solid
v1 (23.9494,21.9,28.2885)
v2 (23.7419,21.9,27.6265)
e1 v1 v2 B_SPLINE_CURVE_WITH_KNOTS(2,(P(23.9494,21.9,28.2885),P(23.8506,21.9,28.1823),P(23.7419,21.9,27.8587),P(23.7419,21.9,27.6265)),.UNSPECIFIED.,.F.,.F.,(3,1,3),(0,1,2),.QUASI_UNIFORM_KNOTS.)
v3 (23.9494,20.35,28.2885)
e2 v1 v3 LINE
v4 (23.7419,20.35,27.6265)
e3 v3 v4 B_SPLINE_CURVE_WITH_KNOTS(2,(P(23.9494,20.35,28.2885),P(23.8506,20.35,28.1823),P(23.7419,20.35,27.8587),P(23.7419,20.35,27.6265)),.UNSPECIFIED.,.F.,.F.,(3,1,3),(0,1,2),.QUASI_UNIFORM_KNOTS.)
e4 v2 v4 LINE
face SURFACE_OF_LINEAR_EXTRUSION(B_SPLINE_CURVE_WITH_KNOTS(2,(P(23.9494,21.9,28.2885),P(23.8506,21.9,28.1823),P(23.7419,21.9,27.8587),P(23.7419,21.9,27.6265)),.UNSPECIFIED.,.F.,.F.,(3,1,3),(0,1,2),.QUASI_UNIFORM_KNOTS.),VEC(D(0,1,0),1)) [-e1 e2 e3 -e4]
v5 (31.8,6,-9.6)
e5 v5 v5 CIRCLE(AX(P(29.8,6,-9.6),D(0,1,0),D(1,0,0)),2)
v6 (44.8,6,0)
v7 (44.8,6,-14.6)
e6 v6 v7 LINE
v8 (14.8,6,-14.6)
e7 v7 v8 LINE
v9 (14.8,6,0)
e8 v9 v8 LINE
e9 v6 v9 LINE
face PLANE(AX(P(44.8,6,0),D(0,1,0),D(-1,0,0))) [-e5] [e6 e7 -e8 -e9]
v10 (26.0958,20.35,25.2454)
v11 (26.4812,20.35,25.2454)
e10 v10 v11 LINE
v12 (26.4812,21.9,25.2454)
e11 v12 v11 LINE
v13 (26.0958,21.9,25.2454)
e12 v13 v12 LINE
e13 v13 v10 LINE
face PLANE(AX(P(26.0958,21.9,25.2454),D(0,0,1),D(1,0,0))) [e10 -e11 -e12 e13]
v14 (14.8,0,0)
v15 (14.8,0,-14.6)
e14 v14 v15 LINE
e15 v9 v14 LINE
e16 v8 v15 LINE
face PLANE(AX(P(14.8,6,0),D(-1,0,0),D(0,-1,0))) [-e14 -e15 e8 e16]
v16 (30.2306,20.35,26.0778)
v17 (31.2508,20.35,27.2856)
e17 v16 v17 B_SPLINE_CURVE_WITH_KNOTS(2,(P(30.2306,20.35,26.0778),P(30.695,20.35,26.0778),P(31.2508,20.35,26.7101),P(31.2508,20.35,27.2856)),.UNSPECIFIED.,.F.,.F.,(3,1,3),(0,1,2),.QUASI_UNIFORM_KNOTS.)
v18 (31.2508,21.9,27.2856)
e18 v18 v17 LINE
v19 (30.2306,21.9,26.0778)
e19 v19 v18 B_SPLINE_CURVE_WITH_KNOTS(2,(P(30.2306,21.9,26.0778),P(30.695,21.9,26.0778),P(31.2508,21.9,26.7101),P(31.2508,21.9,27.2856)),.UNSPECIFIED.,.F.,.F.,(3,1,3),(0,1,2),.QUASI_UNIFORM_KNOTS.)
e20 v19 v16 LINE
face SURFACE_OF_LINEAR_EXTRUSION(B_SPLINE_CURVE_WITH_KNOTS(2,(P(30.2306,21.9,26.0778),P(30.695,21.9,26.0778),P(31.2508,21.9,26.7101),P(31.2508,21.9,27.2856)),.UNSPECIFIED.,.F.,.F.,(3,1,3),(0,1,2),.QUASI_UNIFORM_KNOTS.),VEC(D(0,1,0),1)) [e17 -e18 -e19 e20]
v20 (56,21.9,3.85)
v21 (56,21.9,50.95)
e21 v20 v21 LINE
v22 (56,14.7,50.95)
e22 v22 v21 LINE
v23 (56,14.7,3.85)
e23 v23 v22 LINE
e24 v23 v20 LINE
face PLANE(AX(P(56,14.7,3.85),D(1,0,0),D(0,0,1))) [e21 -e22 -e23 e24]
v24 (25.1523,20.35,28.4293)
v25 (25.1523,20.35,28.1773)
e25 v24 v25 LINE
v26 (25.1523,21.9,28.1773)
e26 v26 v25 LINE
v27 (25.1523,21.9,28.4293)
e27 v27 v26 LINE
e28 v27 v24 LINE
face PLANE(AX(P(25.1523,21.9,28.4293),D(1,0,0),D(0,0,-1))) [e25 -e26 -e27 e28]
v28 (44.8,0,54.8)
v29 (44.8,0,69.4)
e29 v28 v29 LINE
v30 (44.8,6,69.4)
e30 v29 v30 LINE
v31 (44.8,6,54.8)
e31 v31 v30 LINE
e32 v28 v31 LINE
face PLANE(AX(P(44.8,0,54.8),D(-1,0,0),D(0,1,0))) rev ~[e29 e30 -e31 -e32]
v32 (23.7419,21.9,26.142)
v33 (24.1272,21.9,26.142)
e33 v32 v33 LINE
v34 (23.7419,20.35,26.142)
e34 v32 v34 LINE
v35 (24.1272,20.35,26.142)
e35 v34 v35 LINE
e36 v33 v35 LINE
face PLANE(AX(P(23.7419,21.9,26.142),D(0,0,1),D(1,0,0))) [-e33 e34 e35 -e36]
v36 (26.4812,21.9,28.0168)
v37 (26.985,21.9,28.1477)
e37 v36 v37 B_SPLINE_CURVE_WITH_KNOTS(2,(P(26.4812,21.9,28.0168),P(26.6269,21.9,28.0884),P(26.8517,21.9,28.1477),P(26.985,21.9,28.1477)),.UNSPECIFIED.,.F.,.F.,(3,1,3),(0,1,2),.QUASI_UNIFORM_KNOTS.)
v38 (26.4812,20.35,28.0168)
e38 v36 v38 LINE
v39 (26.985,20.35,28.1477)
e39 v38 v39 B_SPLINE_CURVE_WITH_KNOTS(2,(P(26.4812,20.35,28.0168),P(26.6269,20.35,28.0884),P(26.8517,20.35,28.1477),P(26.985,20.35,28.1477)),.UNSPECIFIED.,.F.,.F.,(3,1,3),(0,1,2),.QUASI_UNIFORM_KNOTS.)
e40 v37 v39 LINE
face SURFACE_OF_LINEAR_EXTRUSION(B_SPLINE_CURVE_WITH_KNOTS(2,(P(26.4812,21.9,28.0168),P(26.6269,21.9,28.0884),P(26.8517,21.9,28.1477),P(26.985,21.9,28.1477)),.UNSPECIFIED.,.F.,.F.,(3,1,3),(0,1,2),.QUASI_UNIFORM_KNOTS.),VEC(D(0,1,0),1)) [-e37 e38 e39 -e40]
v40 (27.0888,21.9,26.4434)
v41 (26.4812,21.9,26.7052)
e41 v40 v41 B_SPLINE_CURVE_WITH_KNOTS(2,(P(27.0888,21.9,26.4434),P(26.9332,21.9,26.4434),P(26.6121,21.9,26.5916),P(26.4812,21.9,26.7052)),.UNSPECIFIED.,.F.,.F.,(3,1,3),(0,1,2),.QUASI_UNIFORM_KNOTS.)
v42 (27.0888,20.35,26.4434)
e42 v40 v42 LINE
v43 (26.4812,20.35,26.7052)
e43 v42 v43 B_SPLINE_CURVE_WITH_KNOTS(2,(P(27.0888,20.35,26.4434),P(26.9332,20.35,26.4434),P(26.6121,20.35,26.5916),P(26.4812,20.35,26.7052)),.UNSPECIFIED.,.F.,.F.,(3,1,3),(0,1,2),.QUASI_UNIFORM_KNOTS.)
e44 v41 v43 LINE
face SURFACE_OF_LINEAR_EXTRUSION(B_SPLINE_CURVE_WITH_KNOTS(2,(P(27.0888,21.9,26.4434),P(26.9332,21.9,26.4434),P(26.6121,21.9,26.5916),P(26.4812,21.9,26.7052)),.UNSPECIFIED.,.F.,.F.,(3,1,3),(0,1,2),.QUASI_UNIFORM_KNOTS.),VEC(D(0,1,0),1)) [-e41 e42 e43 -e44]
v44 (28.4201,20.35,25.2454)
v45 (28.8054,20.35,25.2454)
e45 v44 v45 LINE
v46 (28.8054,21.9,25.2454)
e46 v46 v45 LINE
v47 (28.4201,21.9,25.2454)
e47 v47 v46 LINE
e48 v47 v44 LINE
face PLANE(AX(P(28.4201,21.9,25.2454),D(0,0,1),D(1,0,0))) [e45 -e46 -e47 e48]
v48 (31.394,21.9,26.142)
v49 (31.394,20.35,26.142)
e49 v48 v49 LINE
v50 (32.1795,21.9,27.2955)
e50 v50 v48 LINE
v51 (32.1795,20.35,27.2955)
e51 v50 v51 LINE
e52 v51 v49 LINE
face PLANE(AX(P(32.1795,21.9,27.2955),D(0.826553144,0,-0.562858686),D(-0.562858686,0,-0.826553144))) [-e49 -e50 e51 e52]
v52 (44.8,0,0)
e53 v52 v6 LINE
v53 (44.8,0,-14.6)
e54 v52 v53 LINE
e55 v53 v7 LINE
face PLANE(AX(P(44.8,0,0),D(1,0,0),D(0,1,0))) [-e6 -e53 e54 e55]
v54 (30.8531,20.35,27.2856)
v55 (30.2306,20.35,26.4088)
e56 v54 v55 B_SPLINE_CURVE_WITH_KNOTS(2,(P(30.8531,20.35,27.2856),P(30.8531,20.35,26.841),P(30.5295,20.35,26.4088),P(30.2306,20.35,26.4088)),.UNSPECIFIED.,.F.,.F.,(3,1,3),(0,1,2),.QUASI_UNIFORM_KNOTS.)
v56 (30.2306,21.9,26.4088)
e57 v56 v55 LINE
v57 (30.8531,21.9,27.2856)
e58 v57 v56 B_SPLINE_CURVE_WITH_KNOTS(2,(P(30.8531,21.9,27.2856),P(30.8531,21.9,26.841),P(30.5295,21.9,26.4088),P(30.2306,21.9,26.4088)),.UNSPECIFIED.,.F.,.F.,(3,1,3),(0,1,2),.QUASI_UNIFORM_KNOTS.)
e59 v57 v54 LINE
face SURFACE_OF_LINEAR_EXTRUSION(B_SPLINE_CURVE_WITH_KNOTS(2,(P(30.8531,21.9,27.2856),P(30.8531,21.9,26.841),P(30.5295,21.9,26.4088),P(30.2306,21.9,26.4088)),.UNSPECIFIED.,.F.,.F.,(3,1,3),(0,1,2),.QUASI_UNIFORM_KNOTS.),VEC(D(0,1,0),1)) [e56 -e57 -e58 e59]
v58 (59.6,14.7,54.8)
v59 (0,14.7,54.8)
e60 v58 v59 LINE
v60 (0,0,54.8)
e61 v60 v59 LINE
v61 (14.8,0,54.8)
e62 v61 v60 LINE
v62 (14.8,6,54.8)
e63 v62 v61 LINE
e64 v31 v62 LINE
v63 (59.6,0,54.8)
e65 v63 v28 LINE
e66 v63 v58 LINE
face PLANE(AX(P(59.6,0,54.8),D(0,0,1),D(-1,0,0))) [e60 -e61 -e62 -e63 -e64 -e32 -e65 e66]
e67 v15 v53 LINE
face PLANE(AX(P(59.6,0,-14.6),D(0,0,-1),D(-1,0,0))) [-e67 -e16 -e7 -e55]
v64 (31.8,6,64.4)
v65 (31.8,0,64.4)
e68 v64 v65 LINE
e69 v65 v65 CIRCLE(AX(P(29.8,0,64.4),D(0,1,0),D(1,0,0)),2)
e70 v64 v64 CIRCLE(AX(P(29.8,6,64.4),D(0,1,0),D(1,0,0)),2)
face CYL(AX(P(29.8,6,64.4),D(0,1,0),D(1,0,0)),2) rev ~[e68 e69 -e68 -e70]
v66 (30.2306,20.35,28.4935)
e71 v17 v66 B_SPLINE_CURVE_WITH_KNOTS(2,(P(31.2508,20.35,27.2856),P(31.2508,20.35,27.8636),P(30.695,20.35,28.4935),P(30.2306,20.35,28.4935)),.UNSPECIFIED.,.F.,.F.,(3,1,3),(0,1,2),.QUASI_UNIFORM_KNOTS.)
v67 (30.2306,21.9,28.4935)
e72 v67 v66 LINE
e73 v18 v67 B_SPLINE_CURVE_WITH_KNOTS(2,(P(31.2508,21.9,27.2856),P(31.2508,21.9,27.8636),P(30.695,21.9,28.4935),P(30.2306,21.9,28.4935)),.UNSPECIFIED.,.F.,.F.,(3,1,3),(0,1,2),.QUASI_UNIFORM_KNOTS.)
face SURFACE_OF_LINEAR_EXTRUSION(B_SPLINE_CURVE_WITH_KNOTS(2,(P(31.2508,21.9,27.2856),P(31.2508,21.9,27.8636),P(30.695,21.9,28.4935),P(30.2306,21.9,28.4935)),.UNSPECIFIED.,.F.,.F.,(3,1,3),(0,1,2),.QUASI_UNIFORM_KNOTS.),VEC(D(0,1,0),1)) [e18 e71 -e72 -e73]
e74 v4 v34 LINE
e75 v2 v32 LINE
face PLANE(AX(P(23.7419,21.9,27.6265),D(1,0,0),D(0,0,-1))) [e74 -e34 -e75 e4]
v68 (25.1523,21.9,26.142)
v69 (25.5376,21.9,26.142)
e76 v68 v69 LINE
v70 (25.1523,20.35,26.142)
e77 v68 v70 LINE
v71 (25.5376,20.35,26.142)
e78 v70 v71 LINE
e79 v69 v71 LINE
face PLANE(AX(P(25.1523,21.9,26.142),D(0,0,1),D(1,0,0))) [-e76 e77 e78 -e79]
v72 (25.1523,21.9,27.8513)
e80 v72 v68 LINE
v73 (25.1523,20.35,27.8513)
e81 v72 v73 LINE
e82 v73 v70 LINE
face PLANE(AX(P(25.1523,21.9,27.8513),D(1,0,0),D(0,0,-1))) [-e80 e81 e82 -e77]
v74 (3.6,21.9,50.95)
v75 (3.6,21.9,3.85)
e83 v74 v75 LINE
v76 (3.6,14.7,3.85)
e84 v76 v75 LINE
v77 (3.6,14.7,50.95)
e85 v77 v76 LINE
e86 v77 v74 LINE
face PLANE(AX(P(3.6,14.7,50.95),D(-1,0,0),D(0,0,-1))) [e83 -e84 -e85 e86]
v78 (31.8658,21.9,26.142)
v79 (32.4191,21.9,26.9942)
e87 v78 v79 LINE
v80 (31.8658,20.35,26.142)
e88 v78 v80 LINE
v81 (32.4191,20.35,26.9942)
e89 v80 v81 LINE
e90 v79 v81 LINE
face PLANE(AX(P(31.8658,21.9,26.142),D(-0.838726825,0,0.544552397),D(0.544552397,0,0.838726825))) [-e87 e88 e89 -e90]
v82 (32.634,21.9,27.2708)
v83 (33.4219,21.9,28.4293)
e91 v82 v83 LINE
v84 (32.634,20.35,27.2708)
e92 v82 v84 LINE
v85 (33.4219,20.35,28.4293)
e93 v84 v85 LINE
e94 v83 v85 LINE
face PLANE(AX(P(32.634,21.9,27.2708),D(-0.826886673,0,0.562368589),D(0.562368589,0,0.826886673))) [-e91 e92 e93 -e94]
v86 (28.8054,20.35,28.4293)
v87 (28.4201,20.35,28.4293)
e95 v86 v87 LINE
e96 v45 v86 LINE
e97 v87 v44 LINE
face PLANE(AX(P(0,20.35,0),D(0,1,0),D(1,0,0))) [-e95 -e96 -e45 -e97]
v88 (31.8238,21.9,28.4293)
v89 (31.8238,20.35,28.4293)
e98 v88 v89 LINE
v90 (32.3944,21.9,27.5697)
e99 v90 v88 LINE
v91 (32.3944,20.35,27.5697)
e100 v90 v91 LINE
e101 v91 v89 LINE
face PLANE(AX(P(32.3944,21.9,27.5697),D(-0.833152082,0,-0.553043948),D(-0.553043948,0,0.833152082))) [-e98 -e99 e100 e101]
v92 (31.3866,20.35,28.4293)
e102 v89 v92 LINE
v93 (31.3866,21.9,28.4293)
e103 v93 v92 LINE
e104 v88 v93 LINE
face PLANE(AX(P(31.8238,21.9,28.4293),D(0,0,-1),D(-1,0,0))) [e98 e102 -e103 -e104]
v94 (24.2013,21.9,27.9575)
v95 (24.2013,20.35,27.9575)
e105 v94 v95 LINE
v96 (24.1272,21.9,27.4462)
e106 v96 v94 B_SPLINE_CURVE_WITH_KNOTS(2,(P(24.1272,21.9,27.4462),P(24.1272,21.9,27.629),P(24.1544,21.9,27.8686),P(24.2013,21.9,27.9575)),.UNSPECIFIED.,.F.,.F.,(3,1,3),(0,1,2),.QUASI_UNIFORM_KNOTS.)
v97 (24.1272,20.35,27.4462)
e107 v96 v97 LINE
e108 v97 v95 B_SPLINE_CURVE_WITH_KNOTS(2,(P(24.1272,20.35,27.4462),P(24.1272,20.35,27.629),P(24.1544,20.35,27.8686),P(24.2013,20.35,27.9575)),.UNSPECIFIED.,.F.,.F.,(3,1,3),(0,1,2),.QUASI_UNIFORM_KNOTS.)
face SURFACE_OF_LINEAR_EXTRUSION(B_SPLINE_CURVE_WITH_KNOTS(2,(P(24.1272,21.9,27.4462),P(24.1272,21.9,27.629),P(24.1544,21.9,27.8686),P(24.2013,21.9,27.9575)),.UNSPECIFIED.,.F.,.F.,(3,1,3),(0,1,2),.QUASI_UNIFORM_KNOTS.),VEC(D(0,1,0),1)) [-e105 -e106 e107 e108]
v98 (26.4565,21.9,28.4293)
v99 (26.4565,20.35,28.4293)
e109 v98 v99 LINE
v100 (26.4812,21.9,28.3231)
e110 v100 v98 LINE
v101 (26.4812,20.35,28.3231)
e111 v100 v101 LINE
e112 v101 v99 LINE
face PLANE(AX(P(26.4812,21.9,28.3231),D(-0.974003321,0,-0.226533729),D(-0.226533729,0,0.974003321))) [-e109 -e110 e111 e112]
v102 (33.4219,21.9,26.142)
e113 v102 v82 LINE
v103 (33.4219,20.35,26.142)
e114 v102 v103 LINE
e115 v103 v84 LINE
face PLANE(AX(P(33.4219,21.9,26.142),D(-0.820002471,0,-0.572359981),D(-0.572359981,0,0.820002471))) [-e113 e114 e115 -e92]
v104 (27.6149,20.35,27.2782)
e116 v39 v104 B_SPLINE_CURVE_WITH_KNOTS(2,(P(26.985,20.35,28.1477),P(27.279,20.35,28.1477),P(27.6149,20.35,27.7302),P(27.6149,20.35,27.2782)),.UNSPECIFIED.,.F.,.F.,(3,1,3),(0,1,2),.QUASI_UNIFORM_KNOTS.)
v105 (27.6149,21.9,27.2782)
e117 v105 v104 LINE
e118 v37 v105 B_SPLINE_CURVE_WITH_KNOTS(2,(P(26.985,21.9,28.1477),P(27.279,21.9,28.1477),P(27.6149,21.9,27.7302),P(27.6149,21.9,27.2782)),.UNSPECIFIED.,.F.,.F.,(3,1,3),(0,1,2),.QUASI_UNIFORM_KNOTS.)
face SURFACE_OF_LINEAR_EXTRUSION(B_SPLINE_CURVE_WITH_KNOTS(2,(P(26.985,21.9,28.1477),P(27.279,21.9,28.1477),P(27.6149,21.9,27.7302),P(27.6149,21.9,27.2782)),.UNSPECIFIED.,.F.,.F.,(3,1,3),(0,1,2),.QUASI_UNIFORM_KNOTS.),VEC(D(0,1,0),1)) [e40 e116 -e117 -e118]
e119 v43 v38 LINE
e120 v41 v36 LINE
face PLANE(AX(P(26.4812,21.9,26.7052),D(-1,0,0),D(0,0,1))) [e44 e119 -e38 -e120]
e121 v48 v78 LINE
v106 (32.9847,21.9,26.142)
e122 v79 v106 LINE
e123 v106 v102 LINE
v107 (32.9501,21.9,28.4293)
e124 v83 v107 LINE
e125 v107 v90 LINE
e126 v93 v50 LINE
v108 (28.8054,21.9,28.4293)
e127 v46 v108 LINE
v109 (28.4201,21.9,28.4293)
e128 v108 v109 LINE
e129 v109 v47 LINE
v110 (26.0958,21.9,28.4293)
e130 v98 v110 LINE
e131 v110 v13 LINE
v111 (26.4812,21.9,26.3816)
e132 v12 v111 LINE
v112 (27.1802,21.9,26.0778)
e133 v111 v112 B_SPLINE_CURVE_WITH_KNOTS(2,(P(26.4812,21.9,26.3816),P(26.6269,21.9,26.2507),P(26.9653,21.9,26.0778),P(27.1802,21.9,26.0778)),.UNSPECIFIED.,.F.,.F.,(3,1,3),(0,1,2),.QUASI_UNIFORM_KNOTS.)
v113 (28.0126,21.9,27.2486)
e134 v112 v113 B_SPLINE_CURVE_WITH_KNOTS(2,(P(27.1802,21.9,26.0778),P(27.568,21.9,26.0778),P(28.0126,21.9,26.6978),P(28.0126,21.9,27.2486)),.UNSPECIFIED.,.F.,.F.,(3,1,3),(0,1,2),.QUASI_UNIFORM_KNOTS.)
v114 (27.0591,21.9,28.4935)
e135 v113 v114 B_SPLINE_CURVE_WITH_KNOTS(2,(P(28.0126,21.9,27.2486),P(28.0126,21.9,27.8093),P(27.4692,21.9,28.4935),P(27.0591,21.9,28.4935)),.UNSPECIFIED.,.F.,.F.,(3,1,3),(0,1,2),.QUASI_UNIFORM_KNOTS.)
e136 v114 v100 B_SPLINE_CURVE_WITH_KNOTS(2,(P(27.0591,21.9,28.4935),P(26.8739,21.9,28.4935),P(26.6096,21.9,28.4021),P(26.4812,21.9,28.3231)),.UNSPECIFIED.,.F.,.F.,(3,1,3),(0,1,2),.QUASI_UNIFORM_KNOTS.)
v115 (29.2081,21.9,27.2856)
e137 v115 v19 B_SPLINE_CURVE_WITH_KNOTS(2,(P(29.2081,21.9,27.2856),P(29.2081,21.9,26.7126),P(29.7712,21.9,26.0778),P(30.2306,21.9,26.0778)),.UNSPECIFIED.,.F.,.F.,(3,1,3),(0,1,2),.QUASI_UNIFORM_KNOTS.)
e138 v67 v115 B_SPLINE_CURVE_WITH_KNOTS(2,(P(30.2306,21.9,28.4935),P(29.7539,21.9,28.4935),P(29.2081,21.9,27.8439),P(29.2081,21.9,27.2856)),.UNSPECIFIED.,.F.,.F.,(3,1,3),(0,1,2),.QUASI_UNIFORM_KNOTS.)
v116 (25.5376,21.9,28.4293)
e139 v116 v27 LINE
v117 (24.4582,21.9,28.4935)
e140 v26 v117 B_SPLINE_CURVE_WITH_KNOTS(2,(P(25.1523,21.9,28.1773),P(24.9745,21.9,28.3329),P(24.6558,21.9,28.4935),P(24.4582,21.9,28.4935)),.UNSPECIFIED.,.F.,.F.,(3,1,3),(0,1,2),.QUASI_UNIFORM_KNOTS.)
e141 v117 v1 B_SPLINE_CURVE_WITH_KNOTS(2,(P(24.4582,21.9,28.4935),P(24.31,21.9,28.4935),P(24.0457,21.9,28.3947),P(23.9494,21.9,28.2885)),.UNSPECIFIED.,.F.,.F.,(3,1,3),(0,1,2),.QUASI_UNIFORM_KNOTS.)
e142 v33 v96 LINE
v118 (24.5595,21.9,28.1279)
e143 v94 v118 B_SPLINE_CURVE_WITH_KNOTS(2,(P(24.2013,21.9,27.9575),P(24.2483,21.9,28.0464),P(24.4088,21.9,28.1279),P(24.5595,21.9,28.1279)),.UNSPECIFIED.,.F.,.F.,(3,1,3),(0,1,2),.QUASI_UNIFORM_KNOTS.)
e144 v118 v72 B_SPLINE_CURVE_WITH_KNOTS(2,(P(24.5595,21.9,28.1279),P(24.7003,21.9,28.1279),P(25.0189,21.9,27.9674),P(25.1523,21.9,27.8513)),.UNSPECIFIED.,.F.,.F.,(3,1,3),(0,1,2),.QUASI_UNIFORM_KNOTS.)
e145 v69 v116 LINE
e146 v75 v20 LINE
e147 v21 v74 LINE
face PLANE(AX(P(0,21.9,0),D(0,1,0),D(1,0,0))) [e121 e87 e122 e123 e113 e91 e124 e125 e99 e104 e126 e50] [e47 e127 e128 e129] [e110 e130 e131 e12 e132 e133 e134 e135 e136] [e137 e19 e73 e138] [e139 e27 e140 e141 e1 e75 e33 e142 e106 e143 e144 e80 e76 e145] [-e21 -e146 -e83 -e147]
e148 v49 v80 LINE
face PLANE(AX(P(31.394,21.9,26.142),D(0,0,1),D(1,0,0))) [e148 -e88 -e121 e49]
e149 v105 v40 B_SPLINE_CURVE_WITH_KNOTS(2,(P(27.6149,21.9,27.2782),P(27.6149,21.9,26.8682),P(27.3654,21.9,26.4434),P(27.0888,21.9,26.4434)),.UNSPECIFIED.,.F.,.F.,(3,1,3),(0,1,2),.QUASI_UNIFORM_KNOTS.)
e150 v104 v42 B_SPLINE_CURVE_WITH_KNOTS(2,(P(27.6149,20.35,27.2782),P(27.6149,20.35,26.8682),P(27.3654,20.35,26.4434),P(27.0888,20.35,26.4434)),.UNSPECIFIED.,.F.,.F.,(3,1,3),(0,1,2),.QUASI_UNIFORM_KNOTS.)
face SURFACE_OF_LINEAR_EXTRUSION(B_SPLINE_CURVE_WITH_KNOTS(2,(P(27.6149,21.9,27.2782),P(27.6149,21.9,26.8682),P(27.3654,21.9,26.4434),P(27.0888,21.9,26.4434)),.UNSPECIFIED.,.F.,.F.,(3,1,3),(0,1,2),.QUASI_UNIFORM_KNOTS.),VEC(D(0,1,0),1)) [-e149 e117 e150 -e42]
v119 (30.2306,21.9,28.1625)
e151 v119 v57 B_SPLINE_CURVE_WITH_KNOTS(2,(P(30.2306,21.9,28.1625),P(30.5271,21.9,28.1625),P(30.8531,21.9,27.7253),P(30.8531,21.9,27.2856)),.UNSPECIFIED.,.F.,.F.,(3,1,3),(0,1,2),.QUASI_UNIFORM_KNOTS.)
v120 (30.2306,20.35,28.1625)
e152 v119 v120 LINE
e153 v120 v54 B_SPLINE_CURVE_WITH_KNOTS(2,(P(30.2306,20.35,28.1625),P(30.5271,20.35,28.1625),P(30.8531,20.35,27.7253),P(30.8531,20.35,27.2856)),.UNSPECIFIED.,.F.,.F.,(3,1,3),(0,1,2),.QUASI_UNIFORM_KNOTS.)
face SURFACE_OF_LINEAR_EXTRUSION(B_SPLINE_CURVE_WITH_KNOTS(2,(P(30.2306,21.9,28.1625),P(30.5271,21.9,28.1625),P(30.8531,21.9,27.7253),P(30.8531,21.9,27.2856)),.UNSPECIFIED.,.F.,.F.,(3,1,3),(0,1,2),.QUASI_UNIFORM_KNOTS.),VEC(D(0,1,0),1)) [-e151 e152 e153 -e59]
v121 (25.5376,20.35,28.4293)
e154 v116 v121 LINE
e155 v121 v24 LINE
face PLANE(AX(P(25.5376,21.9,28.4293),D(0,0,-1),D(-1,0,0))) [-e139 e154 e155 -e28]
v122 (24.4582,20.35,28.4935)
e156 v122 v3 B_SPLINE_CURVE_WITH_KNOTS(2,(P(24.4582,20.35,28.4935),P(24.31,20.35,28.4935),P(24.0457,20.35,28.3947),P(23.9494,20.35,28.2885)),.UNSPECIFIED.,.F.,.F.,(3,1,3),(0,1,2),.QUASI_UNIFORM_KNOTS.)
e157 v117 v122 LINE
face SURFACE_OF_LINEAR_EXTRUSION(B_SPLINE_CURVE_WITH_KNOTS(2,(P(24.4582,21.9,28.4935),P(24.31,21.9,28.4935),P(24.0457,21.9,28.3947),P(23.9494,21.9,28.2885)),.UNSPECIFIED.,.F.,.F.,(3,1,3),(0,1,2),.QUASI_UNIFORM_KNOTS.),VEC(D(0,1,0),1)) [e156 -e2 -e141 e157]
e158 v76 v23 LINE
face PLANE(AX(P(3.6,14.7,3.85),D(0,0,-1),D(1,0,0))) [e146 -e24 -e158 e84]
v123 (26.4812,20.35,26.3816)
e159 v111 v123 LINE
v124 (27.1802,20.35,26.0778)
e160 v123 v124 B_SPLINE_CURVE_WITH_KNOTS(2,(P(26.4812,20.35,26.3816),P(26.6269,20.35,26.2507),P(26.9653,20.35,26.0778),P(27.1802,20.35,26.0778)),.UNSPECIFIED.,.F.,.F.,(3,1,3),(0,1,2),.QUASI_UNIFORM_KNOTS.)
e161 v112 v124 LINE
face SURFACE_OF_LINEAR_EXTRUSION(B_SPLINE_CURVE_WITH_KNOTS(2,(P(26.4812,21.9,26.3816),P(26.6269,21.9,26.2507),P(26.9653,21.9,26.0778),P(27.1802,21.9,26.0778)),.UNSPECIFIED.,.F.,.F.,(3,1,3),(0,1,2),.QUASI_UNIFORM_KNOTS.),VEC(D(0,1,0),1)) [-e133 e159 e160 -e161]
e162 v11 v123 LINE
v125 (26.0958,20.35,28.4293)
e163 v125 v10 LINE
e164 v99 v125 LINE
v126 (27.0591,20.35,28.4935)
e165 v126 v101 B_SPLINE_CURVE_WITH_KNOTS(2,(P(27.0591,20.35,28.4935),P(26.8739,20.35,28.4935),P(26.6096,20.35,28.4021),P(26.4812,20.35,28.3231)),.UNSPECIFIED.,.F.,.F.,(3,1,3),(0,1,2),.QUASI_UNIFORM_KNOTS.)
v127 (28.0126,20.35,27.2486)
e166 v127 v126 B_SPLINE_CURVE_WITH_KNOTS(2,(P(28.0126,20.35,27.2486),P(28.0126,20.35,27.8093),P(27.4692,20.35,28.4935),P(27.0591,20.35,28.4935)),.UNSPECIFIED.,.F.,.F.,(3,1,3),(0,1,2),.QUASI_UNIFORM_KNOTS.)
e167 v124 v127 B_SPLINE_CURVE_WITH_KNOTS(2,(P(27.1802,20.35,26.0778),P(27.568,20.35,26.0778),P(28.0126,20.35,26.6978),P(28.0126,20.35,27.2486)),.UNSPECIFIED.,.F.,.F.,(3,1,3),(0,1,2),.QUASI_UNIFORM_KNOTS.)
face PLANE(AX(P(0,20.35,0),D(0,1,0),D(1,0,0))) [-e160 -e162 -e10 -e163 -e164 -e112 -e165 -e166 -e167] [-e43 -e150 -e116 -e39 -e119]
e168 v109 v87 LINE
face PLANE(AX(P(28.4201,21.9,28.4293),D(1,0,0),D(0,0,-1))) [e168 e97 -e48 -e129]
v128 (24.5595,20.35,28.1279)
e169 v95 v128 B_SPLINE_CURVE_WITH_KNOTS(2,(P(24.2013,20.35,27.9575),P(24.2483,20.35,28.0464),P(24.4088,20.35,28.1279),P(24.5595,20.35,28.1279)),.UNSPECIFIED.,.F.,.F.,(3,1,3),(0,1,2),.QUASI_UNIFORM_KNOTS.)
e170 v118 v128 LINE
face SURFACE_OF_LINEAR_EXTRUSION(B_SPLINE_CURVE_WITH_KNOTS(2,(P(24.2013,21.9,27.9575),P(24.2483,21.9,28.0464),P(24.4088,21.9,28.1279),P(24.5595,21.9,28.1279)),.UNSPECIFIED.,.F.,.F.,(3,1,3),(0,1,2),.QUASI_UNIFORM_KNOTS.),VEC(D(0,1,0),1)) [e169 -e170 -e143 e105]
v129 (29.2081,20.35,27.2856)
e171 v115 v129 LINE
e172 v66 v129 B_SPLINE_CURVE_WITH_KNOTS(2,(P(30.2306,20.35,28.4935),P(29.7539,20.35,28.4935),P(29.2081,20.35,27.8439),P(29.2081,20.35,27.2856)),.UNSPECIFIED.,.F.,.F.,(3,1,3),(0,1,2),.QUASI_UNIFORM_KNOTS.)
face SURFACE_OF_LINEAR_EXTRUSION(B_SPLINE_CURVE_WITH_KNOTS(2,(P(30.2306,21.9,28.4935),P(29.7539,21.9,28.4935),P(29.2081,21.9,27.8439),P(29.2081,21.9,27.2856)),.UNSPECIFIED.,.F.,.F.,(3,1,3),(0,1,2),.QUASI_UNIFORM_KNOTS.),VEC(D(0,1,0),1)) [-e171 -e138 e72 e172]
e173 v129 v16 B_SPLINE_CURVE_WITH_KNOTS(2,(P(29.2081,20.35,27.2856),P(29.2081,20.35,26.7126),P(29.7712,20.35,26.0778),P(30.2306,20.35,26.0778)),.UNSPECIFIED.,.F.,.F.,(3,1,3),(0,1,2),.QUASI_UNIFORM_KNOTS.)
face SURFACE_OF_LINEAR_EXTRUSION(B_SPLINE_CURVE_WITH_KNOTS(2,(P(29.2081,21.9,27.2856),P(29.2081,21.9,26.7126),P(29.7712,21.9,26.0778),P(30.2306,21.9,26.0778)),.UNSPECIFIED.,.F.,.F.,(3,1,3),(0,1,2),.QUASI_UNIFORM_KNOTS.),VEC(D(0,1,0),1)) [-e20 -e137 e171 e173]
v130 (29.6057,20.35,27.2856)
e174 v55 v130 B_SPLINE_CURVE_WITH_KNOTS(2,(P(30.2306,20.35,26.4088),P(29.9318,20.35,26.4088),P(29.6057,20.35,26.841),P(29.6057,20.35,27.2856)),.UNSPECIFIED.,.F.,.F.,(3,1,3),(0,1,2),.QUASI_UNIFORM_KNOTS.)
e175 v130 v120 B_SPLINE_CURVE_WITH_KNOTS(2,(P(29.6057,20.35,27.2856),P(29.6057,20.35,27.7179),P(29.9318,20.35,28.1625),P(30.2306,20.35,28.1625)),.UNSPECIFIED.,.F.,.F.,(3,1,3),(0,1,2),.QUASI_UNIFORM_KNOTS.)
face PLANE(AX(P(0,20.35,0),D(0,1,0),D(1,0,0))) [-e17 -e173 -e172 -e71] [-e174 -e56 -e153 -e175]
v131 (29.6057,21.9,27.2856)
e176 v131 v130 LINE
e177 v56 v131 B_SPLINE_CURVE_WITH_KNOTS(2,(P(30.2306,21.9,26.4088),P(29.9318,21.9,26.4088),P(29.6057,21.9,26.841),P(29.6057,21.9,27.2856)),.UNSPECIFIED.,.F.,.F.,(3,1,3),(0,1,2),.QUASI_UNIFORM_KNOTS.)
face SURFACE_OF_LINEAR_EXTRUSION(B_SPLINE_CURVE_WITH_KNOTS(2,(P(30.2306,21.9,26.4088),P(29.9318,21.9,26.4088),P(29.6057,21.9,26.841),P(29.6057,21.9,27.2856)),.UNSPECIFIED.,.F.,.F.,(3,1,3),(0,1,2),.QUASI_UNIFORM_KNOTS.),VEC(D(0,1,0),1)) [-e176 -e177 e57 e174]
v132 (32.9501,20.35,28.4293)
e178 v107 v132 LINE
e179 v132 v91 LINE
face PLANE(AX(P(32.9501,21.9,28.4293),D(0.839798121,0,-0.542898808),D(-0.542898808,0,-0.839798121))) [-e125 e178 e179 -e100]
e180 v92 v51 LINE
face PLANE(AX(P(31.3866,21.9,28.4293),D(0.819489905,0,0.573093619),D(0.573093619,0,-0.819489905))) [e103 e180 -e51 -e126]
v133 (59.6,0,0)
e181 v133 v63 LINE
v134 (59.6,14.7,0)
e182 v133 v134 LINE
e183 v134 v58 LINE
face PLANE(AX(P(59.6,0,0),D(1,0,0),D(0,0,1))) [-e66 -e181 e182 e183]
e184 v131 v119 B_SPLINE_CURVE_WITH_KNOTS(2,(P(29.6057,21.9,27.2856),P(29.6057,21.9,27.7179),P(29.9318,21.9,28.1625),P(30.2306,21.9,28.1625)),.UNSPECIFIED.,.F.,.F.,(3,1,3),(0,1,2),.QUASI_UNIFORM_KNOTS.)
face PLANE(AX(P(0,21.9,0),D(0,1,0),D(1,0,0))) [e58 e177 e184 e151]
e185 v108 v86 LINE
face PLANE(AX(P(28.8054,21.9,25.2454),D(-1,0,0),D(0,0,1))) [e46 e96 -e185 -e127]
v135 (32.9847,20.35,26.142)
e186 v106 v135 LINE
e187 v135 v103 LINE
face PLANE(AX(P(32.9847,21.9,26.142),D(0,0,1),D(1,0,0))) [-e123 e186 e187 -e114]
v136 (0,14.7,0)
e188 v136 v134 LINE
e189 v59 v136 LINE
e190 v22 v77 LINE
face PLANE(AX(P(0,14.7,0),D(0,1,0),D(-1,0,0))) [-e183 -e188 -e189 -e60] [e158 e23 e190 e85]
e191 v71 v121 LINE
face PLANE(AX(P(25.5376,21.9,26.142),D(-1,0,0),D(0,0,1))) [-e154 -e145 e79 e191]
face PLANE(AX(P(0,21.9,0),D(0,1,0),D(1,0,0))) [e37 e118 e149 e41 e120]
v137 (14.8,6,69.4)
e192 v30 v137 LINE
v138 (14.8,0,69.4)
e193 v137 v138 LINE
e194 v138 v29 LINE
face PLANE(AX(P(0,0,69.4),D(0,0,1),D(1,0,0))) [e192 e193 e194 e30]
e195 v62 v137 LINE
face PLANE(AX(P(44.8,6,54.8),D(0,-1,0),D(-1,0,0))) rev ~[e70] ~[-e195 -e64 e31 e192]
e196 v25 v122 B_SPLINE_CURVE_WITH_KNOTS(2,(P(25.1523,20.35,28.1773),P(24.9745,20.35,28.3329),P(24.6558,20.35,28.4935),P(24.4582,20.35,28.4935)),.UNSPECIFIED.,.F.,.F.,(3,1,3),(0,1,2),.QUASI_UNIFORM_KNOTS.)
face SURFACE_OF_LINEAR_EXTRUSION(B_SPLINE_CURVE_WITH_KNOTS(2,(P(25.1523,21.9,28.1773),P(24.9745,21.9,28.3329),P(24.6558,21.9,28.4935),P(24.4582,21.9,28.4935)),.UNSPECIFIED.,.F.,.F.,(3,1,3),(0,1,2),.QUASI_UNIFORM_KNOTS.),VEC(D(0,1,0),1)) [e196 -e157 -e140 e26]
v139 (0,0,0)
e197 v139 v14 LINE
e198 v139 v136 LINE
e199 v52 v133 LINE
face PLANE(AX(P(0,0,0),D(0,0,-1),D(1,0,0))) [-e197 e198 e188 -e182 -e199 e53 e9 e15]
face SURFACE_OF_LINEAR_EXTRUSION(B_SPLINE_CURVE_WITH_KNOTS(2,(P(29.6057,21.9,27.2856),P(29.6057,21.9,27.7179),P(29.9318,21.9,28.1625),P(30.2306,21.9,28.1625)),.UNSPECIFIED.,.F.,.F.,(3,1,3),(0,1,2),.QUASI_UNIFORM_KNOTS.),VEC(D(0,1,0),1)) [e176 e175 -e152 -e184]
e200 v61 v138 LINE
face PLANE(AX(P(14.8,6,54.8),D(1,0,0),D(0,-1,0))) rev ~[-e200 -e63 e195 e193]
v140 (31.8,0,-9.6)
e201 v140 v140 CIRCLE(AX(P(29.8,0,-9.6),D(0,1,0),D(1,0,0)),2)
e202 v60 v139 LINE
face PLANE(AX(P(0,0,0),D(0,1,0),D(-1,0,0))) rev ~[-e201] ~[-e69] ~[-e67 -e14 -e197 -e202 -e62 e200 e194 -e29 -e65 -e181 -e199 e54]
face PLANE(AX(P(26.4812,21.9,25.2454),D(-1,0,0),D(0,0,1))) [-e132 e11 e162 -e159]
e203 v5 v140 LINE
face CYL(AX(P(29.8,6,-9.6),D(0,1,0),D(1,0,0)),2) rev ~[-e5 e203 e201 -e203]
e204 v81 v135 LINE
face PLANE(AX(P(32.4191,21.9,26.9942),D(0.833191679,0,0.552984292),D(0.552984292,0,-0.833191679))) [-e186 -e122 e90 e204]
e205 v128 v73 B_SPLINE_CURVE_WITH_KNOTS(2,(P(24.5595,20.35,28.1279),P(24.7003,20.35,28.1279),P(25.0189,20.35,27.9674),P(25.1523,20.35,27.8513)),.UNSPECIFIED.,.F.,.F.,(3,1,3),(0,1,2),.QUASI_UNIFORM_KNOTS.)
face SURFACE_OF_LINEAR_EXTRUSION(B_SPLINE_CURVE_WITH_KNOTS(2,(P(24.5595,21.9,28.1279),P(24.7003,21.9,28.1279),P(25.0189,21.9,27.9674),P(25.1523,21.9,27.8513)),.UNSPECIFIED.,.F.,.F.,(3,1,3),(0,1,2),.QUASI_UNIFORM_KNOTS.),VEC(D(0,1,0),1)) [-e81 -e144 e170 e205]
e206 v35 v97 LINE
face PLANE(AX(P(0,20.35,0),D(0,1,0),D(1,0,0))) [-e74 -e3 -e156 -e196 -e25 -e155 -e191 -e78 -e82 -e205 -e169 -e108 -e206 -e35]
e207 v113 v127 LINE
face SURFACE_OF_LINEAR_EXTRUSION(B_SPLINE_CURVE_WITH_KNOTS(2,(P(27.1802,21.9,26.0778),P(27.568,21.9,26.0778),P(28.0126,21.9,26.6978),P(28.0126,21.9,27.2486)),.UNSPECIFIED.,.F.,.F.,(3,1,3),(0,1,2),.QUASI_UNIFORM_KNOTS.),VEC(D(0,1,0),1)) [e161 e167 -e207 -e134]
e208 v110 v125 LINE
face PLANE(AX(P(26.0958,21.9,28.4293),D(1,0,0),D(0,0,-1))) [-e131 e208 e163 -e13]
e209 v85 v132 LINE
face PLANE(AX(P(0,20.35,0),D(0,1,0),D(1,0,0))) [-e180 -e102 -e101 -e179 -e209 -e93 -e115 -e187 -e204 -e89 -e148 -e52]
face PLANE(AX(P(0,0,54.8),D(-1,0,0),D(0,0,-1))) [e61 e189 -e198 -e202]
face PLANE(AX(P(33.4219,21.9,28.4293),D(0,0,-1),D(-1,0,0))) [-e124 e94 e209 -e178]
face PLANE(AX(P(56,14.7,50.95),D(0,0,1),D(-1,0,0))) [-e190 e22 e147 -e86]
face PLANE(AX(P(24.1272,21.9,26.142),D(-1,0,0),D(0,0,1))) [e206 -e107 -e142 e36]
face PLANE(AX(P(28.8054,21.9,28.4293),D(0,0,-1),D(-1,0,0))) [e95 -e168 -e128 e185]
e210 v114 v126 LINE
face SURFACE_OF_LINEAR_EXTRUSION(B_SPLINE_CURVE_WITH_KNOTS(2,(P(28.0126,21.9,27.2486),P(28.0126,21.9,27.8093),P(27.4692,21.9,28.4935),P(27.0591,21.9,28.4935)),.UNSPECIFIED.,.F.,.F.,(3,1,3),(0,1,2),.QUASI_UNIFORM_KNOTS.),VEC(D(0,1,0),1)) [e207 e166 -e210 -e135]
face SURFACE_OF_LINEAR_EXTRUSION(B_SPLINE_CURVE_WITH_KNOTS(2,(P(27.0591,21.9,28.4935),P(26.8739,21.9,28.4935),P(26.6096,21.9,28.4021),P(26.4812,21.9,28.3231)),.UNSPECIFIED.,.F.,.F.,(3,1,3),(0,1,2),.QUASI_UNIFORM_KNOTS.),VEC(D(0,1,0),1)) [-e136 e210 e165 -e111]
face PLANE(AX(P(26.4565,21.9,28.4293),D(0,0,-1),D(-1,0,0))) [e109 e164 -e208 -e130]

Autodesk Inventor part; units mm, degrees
ref_plane "YZ Plane" through (0, 0, 0) normal (1, 0, 0) x (0, 1, 0)
ref_plane "XZ Plane" through (0, 0, 0) normal (0, 1, 0) x (-1, 0, 0)
ref_plane "XY Plane" through (0, 0, 0) normal (0, 0, 1) x (1, 0, 0)
sketch "스케치1" plane through (0, 0, 0) normal (0, 1, 0) x (-1, 0, 0)
  line L0 (0, 0) -> (-59.6, 0)
  line L1 (-59.6, 0) -> (-59.6, 54.8)
  line L2 (-59.6, 54.8) -> (0, 54.8)
  line L3 (0, 54.8) -> (0, 0)
  dimension "d0" = 59.6
  dimension "d1" = 54.8
extrude "돌출1" add sketch "스케치1" along normal blind 14.7
sketch "스케치3" plane through (0, 14.7, 0) normal (0, 1, 0) x (1, 0, 0)
  line L0 (3.6, -3.85) -> (56, -3.85)
  line L1 (56, -3.85) -> (56, -50.95)
  line L2 (56, -50.95) -> (3.6, -50.95)
  line L3 (3.6, -50.95) -> (3.6, -3.85)
  point P0 (0, 0)
  dimension "d10" = 52.4
  dimension "d11" = 47.1
extrude "돌출2" add sketch "스케치3" along normal blind 7.2
sketch "스케치4" plane through (0, 21.9, 0) normal (0, 1, 0) x (1, 0, 0)
  line L0 (23.4801, -25.2454) -> (33.4417, -25.2454) construction
  line L1 (33.4417, -25.2454) -> (33.4417, -28.4935) construction
  line L2 (33.4417, -28.4935) -> (23.4801, -28.4935) construction
  line L3 (23.4801, -28.4935) -> (23.4801, -25.2454) construction
  line L4 (25.5376, -28.4293) -> (25.1523, -28.4293)
  line L5 (25.1523, -28.4293) -> (25.1523, -28.1773)
  spline S0 degree 2 poles (25.1523, -28.1773) (24.9745, -28.3329) (24.6558, -28.4935) (24.4582, -28.4935) knots 0 0 0 1 2 2 2
  spline S1 degree 2 poles (24.4582, -28.4935) (24.31, -28.4935) (24.0457, -28.3947) (23.9494, -28.2885) knots 0 0 0 1 2 2 2
  spline S2 degree 2 poles (23.9494, -28.2885) (23.8506, -28.1823) (23.7419, -27.8587) (23.7419, -27.6265) knots 0 0 0 1 2 2 2
  line L6 (23.7419, -27.6265) -> (23.7419, -26.142)
  line L7 (23.7419, -26.142) -> (24.1272, -26.142)
  line L8 (24.1272, -26.142) -> (24.1272, -27.4462)
  spline S3 degree 2 poles (24.1272, -27.4462) (24.1272, -27.629) (24.1544, -27.8686) (24.2013, -27.9575) knots 0 0 0 1 2 2 2
  spline S4 degree 2 poles (24.2013, -27.9575) (24.2483, -28.0464) (24.4088, -28.1279) (24.5595, -28.1279) knots 0 0 0 1 2 2 2
  spline S5 degree 2 poles (24.5595, -28.1279) (24.7003, -28.1279) (25.0189, -27.9674) (25.1523, -27.8513) knots 0 0 0 1 2 2 2
  line L9 (25.1523, -27.8513) -> (25.1523, -26.142)
  line L10 (25.1523, -26.142) -> (25.5376, -26.142)
  line L11 (25.5376, -26.142) -> (25.5376, -28.4293)
  spline S6 degree 2 poles (28.0126, -27.2486) (28.0126, -27.8093) (27.4692, -28.4935) (27.0591, -28.4935) knots 0 0 0 1 2 2 2
  spline S7 degree 2 poles (27.0591, -28.4935) (26.8739, -28.4935) (26.6096, -28.4021) (26.4812, -28.3231) knots 0 0 0 1 2 2 2
  line L12 (26.4812, -28.3231) -> (26.4565, -28.4293)
  line L13 (26.4565, -28.4293) -> (26.0958, -28.4293)
  line L14 (26.0958, -28.4293) -> (26.0958, -25.2454)
  line L15 (26.0958, -25.2454) -> (26.4812, -25.2454)
  line L16 (26.4812, -25.2454) -> (26.4812, -26.3816)
  spline S8 degree 2 poles (26.4812, -26.3816) (26.6269, -26.2507) (26.9653, -26.0778) (27.1802, -26.0778) knots 0 0 0 1 2 2 2
  spline S9 degree 2 poles (27.1802, -26.0778) (27.568, -26.0778) (28.0126, -26.6978) (28.0126, -27.2486) knots 0 0 0 1 2 2 2
  spline S10 degree 2 poles (27.6149, -27.2782) (27.6149, -26.8682) (27.3654, -26.4434) (27.0888, -26.4434) knots 0 0 0 1 2 2 2
  spline S11 degree 2 poles (27.0888, -26.4434) (26.9332, -26.4434) (26.6121, -26.5916) (26.4812, -26.7052) knots 0 0 0 1 2 2 2
  line L17 (26.4812, -26.7052) -> (26.4812, -28.0168)
  spline S12 degree 2 poles (26.4812, -28.0168) (26.6269, -28.0884) (26.8517, -28.1477) (26.985, -28.1477) knots 0 0 0 1 2 2 2
  spline S13 degree 2 poles (26.985, -28.1477) (27.279, -28.1477) (27.6149, -27.7302) (27.6149, -27.2782) knots 0 0 0 1 2 2 2
  line L18 (28.8054, -28.4293) -> (28.4201, -28.4293)
  line L19 (28.4201, -28.4293) -> (28.4201, -25.2454)
  line L20 (28.4201, -25.2454) -> (28.8054, -25.2454)
  line L21 (28.8054, -25.2454) -> (28.8054, -28.4293)
  spline S14 degree 2 poles (31.2508, -27.2856) (31.2508, -27.8636) (30.695, -28.4935) (30.2306, -28.4935) knots 0 0 0 1 2 2 2
  spline S15 degree 2 poles (30.2306, -28.4935) (29.7539, -28.4935) (29.2081, -27.8439) (29.2081, -27.2856) knots 0 0 0 1 2 2 2
  spline S16 degree 2 poles (29.2081, -27.2856) (29.2081, -26.7126) (29.7712, -26.0778) (30.2306, -26.0778) knots 0 0 0 1 2 2 2
  spline S17 degree 2 poles (30.2306, -26.0778) (30.695, -26.0778) (31.2508, -26.7101) (31.2508, -27.2856) knots 0 0 0 1 2 2 2
  spline S18 degree 2 poles (30.8531, -27.2856) (30.8531, -26.841) (30.5295, -26.4088) (30.2306, -26.4088) knots 0 0 0 1 2 2 2
  spline S19 degree 2 poles (30.2306, -26.4088) (29.9318, -26.4088) (29.6057, -26.841) (29.6057, -27.2856) knots 0 0 0 1 2 2 2
  spline S20 degree 2 poles (29.6057, -27.2856) (29.6057, -27.7179) (29.9318, -28.1625) (30.2306, -28.1625) knots 0 0 0 1 2 2 2
  spline S21 degree 2 poles (30.2306, -28.1625) (30.5271, -28.1625) (30.8531, -27.7253) (30.8531, -27.2856) knots 0 0 0 1 2 2 2
  line L22 (33.4219, -28.4293) -> (32.9501, -28.4293)
  line L23 (32.9501, -28.4293) -> (32.3944, -27.5697)
  line L24 (32.3944, -27.5697) -> (31.8238, -28.4293)
  line L25 (31.8238, -28.4293) -> (31.3866, -28.4293)
  line L26 (31.3866, -28.4293) -> (32.1795, -27.2955)
  line L27 (32.1795, -27.2955) -> (31.394, -26.142)
  line L28 (31.394, -26.142) -> (31.8658, -26.142)
  line L29 (31.8658, -26.142) -> (32.4191, -26.9942)
  line L30 (32.4191, -26.9942) -> (32.9847, -26.142)
  line L31 (32.9847, -26.142) -> (33.4219, -26.142)
  line L32 (33.4219, -26.142) -> (32.634, -27.2708)
  line L33 (32.634, -27.2708) -> (33.4219, -28.4293)
  point P0 (0, 0)
extrude "돌출3" cut sketch "스케치4" against normal blind 1.55
sketch "스케치5" plane through (0, 0, 54.8) normal (0, 0, 1) x (1, 0, 0)
  line L0 (14.8, 0) -> (44.8, 0)
  line L1 (44.8, 0) -> (44.8, 6)
  line L2 (44.8, 6) -> (14.8, 6)
  line L3 (14.8, 6) -> (14.8, 0)
  point P0 (0, 0)
  dimension "d16" = 30
  dimension "d17" = 6
sketch "스케치6" plane through (59.6, 0, 0) normal (0, 0, -1) x (-1, 0, 0)
  line L0 (44.8, 0) -> (14.8, 0)
  line L1 (14.8, 0) -> (14.8, 6)
  line L2 (14.8, 6) -> (44.8, 6)
  line L3 (44.8, 6) -> (44.8, 0)
  point P0 (59.6, 0)
  dimension "d18" = 30
  dimension "d19" = 6
extrude "돌출4" add sketch "스케치6" along normal blind 14.6
extrude "돌출5" add sketch "스케치5" along normal blind 14.6
sketch "스케치10" plane through (14.8, 6, 54.8) normal (0, 1, 0) x (1, 0, 0)
  circle A0 centre (15, -9.6) radius 2
  point P0 (-14.8, 54.8)
  dimension "d25" = 4
sketch "스케치12" plane through (14.8, 6, 0) normal (0, 1, 0) x (1, 0, 0)
  circle A0 centre (15, 9.6) radius 2
  point P0 (-14.8, 0)
  dimension "d27" = 4
extrude "돌출6" cut sketch "스케치10" against normal blind 70.15
extrude "돌출7" cut sketch "스케치12" against normal blind 104.1
properties part number "gps_antenna"
